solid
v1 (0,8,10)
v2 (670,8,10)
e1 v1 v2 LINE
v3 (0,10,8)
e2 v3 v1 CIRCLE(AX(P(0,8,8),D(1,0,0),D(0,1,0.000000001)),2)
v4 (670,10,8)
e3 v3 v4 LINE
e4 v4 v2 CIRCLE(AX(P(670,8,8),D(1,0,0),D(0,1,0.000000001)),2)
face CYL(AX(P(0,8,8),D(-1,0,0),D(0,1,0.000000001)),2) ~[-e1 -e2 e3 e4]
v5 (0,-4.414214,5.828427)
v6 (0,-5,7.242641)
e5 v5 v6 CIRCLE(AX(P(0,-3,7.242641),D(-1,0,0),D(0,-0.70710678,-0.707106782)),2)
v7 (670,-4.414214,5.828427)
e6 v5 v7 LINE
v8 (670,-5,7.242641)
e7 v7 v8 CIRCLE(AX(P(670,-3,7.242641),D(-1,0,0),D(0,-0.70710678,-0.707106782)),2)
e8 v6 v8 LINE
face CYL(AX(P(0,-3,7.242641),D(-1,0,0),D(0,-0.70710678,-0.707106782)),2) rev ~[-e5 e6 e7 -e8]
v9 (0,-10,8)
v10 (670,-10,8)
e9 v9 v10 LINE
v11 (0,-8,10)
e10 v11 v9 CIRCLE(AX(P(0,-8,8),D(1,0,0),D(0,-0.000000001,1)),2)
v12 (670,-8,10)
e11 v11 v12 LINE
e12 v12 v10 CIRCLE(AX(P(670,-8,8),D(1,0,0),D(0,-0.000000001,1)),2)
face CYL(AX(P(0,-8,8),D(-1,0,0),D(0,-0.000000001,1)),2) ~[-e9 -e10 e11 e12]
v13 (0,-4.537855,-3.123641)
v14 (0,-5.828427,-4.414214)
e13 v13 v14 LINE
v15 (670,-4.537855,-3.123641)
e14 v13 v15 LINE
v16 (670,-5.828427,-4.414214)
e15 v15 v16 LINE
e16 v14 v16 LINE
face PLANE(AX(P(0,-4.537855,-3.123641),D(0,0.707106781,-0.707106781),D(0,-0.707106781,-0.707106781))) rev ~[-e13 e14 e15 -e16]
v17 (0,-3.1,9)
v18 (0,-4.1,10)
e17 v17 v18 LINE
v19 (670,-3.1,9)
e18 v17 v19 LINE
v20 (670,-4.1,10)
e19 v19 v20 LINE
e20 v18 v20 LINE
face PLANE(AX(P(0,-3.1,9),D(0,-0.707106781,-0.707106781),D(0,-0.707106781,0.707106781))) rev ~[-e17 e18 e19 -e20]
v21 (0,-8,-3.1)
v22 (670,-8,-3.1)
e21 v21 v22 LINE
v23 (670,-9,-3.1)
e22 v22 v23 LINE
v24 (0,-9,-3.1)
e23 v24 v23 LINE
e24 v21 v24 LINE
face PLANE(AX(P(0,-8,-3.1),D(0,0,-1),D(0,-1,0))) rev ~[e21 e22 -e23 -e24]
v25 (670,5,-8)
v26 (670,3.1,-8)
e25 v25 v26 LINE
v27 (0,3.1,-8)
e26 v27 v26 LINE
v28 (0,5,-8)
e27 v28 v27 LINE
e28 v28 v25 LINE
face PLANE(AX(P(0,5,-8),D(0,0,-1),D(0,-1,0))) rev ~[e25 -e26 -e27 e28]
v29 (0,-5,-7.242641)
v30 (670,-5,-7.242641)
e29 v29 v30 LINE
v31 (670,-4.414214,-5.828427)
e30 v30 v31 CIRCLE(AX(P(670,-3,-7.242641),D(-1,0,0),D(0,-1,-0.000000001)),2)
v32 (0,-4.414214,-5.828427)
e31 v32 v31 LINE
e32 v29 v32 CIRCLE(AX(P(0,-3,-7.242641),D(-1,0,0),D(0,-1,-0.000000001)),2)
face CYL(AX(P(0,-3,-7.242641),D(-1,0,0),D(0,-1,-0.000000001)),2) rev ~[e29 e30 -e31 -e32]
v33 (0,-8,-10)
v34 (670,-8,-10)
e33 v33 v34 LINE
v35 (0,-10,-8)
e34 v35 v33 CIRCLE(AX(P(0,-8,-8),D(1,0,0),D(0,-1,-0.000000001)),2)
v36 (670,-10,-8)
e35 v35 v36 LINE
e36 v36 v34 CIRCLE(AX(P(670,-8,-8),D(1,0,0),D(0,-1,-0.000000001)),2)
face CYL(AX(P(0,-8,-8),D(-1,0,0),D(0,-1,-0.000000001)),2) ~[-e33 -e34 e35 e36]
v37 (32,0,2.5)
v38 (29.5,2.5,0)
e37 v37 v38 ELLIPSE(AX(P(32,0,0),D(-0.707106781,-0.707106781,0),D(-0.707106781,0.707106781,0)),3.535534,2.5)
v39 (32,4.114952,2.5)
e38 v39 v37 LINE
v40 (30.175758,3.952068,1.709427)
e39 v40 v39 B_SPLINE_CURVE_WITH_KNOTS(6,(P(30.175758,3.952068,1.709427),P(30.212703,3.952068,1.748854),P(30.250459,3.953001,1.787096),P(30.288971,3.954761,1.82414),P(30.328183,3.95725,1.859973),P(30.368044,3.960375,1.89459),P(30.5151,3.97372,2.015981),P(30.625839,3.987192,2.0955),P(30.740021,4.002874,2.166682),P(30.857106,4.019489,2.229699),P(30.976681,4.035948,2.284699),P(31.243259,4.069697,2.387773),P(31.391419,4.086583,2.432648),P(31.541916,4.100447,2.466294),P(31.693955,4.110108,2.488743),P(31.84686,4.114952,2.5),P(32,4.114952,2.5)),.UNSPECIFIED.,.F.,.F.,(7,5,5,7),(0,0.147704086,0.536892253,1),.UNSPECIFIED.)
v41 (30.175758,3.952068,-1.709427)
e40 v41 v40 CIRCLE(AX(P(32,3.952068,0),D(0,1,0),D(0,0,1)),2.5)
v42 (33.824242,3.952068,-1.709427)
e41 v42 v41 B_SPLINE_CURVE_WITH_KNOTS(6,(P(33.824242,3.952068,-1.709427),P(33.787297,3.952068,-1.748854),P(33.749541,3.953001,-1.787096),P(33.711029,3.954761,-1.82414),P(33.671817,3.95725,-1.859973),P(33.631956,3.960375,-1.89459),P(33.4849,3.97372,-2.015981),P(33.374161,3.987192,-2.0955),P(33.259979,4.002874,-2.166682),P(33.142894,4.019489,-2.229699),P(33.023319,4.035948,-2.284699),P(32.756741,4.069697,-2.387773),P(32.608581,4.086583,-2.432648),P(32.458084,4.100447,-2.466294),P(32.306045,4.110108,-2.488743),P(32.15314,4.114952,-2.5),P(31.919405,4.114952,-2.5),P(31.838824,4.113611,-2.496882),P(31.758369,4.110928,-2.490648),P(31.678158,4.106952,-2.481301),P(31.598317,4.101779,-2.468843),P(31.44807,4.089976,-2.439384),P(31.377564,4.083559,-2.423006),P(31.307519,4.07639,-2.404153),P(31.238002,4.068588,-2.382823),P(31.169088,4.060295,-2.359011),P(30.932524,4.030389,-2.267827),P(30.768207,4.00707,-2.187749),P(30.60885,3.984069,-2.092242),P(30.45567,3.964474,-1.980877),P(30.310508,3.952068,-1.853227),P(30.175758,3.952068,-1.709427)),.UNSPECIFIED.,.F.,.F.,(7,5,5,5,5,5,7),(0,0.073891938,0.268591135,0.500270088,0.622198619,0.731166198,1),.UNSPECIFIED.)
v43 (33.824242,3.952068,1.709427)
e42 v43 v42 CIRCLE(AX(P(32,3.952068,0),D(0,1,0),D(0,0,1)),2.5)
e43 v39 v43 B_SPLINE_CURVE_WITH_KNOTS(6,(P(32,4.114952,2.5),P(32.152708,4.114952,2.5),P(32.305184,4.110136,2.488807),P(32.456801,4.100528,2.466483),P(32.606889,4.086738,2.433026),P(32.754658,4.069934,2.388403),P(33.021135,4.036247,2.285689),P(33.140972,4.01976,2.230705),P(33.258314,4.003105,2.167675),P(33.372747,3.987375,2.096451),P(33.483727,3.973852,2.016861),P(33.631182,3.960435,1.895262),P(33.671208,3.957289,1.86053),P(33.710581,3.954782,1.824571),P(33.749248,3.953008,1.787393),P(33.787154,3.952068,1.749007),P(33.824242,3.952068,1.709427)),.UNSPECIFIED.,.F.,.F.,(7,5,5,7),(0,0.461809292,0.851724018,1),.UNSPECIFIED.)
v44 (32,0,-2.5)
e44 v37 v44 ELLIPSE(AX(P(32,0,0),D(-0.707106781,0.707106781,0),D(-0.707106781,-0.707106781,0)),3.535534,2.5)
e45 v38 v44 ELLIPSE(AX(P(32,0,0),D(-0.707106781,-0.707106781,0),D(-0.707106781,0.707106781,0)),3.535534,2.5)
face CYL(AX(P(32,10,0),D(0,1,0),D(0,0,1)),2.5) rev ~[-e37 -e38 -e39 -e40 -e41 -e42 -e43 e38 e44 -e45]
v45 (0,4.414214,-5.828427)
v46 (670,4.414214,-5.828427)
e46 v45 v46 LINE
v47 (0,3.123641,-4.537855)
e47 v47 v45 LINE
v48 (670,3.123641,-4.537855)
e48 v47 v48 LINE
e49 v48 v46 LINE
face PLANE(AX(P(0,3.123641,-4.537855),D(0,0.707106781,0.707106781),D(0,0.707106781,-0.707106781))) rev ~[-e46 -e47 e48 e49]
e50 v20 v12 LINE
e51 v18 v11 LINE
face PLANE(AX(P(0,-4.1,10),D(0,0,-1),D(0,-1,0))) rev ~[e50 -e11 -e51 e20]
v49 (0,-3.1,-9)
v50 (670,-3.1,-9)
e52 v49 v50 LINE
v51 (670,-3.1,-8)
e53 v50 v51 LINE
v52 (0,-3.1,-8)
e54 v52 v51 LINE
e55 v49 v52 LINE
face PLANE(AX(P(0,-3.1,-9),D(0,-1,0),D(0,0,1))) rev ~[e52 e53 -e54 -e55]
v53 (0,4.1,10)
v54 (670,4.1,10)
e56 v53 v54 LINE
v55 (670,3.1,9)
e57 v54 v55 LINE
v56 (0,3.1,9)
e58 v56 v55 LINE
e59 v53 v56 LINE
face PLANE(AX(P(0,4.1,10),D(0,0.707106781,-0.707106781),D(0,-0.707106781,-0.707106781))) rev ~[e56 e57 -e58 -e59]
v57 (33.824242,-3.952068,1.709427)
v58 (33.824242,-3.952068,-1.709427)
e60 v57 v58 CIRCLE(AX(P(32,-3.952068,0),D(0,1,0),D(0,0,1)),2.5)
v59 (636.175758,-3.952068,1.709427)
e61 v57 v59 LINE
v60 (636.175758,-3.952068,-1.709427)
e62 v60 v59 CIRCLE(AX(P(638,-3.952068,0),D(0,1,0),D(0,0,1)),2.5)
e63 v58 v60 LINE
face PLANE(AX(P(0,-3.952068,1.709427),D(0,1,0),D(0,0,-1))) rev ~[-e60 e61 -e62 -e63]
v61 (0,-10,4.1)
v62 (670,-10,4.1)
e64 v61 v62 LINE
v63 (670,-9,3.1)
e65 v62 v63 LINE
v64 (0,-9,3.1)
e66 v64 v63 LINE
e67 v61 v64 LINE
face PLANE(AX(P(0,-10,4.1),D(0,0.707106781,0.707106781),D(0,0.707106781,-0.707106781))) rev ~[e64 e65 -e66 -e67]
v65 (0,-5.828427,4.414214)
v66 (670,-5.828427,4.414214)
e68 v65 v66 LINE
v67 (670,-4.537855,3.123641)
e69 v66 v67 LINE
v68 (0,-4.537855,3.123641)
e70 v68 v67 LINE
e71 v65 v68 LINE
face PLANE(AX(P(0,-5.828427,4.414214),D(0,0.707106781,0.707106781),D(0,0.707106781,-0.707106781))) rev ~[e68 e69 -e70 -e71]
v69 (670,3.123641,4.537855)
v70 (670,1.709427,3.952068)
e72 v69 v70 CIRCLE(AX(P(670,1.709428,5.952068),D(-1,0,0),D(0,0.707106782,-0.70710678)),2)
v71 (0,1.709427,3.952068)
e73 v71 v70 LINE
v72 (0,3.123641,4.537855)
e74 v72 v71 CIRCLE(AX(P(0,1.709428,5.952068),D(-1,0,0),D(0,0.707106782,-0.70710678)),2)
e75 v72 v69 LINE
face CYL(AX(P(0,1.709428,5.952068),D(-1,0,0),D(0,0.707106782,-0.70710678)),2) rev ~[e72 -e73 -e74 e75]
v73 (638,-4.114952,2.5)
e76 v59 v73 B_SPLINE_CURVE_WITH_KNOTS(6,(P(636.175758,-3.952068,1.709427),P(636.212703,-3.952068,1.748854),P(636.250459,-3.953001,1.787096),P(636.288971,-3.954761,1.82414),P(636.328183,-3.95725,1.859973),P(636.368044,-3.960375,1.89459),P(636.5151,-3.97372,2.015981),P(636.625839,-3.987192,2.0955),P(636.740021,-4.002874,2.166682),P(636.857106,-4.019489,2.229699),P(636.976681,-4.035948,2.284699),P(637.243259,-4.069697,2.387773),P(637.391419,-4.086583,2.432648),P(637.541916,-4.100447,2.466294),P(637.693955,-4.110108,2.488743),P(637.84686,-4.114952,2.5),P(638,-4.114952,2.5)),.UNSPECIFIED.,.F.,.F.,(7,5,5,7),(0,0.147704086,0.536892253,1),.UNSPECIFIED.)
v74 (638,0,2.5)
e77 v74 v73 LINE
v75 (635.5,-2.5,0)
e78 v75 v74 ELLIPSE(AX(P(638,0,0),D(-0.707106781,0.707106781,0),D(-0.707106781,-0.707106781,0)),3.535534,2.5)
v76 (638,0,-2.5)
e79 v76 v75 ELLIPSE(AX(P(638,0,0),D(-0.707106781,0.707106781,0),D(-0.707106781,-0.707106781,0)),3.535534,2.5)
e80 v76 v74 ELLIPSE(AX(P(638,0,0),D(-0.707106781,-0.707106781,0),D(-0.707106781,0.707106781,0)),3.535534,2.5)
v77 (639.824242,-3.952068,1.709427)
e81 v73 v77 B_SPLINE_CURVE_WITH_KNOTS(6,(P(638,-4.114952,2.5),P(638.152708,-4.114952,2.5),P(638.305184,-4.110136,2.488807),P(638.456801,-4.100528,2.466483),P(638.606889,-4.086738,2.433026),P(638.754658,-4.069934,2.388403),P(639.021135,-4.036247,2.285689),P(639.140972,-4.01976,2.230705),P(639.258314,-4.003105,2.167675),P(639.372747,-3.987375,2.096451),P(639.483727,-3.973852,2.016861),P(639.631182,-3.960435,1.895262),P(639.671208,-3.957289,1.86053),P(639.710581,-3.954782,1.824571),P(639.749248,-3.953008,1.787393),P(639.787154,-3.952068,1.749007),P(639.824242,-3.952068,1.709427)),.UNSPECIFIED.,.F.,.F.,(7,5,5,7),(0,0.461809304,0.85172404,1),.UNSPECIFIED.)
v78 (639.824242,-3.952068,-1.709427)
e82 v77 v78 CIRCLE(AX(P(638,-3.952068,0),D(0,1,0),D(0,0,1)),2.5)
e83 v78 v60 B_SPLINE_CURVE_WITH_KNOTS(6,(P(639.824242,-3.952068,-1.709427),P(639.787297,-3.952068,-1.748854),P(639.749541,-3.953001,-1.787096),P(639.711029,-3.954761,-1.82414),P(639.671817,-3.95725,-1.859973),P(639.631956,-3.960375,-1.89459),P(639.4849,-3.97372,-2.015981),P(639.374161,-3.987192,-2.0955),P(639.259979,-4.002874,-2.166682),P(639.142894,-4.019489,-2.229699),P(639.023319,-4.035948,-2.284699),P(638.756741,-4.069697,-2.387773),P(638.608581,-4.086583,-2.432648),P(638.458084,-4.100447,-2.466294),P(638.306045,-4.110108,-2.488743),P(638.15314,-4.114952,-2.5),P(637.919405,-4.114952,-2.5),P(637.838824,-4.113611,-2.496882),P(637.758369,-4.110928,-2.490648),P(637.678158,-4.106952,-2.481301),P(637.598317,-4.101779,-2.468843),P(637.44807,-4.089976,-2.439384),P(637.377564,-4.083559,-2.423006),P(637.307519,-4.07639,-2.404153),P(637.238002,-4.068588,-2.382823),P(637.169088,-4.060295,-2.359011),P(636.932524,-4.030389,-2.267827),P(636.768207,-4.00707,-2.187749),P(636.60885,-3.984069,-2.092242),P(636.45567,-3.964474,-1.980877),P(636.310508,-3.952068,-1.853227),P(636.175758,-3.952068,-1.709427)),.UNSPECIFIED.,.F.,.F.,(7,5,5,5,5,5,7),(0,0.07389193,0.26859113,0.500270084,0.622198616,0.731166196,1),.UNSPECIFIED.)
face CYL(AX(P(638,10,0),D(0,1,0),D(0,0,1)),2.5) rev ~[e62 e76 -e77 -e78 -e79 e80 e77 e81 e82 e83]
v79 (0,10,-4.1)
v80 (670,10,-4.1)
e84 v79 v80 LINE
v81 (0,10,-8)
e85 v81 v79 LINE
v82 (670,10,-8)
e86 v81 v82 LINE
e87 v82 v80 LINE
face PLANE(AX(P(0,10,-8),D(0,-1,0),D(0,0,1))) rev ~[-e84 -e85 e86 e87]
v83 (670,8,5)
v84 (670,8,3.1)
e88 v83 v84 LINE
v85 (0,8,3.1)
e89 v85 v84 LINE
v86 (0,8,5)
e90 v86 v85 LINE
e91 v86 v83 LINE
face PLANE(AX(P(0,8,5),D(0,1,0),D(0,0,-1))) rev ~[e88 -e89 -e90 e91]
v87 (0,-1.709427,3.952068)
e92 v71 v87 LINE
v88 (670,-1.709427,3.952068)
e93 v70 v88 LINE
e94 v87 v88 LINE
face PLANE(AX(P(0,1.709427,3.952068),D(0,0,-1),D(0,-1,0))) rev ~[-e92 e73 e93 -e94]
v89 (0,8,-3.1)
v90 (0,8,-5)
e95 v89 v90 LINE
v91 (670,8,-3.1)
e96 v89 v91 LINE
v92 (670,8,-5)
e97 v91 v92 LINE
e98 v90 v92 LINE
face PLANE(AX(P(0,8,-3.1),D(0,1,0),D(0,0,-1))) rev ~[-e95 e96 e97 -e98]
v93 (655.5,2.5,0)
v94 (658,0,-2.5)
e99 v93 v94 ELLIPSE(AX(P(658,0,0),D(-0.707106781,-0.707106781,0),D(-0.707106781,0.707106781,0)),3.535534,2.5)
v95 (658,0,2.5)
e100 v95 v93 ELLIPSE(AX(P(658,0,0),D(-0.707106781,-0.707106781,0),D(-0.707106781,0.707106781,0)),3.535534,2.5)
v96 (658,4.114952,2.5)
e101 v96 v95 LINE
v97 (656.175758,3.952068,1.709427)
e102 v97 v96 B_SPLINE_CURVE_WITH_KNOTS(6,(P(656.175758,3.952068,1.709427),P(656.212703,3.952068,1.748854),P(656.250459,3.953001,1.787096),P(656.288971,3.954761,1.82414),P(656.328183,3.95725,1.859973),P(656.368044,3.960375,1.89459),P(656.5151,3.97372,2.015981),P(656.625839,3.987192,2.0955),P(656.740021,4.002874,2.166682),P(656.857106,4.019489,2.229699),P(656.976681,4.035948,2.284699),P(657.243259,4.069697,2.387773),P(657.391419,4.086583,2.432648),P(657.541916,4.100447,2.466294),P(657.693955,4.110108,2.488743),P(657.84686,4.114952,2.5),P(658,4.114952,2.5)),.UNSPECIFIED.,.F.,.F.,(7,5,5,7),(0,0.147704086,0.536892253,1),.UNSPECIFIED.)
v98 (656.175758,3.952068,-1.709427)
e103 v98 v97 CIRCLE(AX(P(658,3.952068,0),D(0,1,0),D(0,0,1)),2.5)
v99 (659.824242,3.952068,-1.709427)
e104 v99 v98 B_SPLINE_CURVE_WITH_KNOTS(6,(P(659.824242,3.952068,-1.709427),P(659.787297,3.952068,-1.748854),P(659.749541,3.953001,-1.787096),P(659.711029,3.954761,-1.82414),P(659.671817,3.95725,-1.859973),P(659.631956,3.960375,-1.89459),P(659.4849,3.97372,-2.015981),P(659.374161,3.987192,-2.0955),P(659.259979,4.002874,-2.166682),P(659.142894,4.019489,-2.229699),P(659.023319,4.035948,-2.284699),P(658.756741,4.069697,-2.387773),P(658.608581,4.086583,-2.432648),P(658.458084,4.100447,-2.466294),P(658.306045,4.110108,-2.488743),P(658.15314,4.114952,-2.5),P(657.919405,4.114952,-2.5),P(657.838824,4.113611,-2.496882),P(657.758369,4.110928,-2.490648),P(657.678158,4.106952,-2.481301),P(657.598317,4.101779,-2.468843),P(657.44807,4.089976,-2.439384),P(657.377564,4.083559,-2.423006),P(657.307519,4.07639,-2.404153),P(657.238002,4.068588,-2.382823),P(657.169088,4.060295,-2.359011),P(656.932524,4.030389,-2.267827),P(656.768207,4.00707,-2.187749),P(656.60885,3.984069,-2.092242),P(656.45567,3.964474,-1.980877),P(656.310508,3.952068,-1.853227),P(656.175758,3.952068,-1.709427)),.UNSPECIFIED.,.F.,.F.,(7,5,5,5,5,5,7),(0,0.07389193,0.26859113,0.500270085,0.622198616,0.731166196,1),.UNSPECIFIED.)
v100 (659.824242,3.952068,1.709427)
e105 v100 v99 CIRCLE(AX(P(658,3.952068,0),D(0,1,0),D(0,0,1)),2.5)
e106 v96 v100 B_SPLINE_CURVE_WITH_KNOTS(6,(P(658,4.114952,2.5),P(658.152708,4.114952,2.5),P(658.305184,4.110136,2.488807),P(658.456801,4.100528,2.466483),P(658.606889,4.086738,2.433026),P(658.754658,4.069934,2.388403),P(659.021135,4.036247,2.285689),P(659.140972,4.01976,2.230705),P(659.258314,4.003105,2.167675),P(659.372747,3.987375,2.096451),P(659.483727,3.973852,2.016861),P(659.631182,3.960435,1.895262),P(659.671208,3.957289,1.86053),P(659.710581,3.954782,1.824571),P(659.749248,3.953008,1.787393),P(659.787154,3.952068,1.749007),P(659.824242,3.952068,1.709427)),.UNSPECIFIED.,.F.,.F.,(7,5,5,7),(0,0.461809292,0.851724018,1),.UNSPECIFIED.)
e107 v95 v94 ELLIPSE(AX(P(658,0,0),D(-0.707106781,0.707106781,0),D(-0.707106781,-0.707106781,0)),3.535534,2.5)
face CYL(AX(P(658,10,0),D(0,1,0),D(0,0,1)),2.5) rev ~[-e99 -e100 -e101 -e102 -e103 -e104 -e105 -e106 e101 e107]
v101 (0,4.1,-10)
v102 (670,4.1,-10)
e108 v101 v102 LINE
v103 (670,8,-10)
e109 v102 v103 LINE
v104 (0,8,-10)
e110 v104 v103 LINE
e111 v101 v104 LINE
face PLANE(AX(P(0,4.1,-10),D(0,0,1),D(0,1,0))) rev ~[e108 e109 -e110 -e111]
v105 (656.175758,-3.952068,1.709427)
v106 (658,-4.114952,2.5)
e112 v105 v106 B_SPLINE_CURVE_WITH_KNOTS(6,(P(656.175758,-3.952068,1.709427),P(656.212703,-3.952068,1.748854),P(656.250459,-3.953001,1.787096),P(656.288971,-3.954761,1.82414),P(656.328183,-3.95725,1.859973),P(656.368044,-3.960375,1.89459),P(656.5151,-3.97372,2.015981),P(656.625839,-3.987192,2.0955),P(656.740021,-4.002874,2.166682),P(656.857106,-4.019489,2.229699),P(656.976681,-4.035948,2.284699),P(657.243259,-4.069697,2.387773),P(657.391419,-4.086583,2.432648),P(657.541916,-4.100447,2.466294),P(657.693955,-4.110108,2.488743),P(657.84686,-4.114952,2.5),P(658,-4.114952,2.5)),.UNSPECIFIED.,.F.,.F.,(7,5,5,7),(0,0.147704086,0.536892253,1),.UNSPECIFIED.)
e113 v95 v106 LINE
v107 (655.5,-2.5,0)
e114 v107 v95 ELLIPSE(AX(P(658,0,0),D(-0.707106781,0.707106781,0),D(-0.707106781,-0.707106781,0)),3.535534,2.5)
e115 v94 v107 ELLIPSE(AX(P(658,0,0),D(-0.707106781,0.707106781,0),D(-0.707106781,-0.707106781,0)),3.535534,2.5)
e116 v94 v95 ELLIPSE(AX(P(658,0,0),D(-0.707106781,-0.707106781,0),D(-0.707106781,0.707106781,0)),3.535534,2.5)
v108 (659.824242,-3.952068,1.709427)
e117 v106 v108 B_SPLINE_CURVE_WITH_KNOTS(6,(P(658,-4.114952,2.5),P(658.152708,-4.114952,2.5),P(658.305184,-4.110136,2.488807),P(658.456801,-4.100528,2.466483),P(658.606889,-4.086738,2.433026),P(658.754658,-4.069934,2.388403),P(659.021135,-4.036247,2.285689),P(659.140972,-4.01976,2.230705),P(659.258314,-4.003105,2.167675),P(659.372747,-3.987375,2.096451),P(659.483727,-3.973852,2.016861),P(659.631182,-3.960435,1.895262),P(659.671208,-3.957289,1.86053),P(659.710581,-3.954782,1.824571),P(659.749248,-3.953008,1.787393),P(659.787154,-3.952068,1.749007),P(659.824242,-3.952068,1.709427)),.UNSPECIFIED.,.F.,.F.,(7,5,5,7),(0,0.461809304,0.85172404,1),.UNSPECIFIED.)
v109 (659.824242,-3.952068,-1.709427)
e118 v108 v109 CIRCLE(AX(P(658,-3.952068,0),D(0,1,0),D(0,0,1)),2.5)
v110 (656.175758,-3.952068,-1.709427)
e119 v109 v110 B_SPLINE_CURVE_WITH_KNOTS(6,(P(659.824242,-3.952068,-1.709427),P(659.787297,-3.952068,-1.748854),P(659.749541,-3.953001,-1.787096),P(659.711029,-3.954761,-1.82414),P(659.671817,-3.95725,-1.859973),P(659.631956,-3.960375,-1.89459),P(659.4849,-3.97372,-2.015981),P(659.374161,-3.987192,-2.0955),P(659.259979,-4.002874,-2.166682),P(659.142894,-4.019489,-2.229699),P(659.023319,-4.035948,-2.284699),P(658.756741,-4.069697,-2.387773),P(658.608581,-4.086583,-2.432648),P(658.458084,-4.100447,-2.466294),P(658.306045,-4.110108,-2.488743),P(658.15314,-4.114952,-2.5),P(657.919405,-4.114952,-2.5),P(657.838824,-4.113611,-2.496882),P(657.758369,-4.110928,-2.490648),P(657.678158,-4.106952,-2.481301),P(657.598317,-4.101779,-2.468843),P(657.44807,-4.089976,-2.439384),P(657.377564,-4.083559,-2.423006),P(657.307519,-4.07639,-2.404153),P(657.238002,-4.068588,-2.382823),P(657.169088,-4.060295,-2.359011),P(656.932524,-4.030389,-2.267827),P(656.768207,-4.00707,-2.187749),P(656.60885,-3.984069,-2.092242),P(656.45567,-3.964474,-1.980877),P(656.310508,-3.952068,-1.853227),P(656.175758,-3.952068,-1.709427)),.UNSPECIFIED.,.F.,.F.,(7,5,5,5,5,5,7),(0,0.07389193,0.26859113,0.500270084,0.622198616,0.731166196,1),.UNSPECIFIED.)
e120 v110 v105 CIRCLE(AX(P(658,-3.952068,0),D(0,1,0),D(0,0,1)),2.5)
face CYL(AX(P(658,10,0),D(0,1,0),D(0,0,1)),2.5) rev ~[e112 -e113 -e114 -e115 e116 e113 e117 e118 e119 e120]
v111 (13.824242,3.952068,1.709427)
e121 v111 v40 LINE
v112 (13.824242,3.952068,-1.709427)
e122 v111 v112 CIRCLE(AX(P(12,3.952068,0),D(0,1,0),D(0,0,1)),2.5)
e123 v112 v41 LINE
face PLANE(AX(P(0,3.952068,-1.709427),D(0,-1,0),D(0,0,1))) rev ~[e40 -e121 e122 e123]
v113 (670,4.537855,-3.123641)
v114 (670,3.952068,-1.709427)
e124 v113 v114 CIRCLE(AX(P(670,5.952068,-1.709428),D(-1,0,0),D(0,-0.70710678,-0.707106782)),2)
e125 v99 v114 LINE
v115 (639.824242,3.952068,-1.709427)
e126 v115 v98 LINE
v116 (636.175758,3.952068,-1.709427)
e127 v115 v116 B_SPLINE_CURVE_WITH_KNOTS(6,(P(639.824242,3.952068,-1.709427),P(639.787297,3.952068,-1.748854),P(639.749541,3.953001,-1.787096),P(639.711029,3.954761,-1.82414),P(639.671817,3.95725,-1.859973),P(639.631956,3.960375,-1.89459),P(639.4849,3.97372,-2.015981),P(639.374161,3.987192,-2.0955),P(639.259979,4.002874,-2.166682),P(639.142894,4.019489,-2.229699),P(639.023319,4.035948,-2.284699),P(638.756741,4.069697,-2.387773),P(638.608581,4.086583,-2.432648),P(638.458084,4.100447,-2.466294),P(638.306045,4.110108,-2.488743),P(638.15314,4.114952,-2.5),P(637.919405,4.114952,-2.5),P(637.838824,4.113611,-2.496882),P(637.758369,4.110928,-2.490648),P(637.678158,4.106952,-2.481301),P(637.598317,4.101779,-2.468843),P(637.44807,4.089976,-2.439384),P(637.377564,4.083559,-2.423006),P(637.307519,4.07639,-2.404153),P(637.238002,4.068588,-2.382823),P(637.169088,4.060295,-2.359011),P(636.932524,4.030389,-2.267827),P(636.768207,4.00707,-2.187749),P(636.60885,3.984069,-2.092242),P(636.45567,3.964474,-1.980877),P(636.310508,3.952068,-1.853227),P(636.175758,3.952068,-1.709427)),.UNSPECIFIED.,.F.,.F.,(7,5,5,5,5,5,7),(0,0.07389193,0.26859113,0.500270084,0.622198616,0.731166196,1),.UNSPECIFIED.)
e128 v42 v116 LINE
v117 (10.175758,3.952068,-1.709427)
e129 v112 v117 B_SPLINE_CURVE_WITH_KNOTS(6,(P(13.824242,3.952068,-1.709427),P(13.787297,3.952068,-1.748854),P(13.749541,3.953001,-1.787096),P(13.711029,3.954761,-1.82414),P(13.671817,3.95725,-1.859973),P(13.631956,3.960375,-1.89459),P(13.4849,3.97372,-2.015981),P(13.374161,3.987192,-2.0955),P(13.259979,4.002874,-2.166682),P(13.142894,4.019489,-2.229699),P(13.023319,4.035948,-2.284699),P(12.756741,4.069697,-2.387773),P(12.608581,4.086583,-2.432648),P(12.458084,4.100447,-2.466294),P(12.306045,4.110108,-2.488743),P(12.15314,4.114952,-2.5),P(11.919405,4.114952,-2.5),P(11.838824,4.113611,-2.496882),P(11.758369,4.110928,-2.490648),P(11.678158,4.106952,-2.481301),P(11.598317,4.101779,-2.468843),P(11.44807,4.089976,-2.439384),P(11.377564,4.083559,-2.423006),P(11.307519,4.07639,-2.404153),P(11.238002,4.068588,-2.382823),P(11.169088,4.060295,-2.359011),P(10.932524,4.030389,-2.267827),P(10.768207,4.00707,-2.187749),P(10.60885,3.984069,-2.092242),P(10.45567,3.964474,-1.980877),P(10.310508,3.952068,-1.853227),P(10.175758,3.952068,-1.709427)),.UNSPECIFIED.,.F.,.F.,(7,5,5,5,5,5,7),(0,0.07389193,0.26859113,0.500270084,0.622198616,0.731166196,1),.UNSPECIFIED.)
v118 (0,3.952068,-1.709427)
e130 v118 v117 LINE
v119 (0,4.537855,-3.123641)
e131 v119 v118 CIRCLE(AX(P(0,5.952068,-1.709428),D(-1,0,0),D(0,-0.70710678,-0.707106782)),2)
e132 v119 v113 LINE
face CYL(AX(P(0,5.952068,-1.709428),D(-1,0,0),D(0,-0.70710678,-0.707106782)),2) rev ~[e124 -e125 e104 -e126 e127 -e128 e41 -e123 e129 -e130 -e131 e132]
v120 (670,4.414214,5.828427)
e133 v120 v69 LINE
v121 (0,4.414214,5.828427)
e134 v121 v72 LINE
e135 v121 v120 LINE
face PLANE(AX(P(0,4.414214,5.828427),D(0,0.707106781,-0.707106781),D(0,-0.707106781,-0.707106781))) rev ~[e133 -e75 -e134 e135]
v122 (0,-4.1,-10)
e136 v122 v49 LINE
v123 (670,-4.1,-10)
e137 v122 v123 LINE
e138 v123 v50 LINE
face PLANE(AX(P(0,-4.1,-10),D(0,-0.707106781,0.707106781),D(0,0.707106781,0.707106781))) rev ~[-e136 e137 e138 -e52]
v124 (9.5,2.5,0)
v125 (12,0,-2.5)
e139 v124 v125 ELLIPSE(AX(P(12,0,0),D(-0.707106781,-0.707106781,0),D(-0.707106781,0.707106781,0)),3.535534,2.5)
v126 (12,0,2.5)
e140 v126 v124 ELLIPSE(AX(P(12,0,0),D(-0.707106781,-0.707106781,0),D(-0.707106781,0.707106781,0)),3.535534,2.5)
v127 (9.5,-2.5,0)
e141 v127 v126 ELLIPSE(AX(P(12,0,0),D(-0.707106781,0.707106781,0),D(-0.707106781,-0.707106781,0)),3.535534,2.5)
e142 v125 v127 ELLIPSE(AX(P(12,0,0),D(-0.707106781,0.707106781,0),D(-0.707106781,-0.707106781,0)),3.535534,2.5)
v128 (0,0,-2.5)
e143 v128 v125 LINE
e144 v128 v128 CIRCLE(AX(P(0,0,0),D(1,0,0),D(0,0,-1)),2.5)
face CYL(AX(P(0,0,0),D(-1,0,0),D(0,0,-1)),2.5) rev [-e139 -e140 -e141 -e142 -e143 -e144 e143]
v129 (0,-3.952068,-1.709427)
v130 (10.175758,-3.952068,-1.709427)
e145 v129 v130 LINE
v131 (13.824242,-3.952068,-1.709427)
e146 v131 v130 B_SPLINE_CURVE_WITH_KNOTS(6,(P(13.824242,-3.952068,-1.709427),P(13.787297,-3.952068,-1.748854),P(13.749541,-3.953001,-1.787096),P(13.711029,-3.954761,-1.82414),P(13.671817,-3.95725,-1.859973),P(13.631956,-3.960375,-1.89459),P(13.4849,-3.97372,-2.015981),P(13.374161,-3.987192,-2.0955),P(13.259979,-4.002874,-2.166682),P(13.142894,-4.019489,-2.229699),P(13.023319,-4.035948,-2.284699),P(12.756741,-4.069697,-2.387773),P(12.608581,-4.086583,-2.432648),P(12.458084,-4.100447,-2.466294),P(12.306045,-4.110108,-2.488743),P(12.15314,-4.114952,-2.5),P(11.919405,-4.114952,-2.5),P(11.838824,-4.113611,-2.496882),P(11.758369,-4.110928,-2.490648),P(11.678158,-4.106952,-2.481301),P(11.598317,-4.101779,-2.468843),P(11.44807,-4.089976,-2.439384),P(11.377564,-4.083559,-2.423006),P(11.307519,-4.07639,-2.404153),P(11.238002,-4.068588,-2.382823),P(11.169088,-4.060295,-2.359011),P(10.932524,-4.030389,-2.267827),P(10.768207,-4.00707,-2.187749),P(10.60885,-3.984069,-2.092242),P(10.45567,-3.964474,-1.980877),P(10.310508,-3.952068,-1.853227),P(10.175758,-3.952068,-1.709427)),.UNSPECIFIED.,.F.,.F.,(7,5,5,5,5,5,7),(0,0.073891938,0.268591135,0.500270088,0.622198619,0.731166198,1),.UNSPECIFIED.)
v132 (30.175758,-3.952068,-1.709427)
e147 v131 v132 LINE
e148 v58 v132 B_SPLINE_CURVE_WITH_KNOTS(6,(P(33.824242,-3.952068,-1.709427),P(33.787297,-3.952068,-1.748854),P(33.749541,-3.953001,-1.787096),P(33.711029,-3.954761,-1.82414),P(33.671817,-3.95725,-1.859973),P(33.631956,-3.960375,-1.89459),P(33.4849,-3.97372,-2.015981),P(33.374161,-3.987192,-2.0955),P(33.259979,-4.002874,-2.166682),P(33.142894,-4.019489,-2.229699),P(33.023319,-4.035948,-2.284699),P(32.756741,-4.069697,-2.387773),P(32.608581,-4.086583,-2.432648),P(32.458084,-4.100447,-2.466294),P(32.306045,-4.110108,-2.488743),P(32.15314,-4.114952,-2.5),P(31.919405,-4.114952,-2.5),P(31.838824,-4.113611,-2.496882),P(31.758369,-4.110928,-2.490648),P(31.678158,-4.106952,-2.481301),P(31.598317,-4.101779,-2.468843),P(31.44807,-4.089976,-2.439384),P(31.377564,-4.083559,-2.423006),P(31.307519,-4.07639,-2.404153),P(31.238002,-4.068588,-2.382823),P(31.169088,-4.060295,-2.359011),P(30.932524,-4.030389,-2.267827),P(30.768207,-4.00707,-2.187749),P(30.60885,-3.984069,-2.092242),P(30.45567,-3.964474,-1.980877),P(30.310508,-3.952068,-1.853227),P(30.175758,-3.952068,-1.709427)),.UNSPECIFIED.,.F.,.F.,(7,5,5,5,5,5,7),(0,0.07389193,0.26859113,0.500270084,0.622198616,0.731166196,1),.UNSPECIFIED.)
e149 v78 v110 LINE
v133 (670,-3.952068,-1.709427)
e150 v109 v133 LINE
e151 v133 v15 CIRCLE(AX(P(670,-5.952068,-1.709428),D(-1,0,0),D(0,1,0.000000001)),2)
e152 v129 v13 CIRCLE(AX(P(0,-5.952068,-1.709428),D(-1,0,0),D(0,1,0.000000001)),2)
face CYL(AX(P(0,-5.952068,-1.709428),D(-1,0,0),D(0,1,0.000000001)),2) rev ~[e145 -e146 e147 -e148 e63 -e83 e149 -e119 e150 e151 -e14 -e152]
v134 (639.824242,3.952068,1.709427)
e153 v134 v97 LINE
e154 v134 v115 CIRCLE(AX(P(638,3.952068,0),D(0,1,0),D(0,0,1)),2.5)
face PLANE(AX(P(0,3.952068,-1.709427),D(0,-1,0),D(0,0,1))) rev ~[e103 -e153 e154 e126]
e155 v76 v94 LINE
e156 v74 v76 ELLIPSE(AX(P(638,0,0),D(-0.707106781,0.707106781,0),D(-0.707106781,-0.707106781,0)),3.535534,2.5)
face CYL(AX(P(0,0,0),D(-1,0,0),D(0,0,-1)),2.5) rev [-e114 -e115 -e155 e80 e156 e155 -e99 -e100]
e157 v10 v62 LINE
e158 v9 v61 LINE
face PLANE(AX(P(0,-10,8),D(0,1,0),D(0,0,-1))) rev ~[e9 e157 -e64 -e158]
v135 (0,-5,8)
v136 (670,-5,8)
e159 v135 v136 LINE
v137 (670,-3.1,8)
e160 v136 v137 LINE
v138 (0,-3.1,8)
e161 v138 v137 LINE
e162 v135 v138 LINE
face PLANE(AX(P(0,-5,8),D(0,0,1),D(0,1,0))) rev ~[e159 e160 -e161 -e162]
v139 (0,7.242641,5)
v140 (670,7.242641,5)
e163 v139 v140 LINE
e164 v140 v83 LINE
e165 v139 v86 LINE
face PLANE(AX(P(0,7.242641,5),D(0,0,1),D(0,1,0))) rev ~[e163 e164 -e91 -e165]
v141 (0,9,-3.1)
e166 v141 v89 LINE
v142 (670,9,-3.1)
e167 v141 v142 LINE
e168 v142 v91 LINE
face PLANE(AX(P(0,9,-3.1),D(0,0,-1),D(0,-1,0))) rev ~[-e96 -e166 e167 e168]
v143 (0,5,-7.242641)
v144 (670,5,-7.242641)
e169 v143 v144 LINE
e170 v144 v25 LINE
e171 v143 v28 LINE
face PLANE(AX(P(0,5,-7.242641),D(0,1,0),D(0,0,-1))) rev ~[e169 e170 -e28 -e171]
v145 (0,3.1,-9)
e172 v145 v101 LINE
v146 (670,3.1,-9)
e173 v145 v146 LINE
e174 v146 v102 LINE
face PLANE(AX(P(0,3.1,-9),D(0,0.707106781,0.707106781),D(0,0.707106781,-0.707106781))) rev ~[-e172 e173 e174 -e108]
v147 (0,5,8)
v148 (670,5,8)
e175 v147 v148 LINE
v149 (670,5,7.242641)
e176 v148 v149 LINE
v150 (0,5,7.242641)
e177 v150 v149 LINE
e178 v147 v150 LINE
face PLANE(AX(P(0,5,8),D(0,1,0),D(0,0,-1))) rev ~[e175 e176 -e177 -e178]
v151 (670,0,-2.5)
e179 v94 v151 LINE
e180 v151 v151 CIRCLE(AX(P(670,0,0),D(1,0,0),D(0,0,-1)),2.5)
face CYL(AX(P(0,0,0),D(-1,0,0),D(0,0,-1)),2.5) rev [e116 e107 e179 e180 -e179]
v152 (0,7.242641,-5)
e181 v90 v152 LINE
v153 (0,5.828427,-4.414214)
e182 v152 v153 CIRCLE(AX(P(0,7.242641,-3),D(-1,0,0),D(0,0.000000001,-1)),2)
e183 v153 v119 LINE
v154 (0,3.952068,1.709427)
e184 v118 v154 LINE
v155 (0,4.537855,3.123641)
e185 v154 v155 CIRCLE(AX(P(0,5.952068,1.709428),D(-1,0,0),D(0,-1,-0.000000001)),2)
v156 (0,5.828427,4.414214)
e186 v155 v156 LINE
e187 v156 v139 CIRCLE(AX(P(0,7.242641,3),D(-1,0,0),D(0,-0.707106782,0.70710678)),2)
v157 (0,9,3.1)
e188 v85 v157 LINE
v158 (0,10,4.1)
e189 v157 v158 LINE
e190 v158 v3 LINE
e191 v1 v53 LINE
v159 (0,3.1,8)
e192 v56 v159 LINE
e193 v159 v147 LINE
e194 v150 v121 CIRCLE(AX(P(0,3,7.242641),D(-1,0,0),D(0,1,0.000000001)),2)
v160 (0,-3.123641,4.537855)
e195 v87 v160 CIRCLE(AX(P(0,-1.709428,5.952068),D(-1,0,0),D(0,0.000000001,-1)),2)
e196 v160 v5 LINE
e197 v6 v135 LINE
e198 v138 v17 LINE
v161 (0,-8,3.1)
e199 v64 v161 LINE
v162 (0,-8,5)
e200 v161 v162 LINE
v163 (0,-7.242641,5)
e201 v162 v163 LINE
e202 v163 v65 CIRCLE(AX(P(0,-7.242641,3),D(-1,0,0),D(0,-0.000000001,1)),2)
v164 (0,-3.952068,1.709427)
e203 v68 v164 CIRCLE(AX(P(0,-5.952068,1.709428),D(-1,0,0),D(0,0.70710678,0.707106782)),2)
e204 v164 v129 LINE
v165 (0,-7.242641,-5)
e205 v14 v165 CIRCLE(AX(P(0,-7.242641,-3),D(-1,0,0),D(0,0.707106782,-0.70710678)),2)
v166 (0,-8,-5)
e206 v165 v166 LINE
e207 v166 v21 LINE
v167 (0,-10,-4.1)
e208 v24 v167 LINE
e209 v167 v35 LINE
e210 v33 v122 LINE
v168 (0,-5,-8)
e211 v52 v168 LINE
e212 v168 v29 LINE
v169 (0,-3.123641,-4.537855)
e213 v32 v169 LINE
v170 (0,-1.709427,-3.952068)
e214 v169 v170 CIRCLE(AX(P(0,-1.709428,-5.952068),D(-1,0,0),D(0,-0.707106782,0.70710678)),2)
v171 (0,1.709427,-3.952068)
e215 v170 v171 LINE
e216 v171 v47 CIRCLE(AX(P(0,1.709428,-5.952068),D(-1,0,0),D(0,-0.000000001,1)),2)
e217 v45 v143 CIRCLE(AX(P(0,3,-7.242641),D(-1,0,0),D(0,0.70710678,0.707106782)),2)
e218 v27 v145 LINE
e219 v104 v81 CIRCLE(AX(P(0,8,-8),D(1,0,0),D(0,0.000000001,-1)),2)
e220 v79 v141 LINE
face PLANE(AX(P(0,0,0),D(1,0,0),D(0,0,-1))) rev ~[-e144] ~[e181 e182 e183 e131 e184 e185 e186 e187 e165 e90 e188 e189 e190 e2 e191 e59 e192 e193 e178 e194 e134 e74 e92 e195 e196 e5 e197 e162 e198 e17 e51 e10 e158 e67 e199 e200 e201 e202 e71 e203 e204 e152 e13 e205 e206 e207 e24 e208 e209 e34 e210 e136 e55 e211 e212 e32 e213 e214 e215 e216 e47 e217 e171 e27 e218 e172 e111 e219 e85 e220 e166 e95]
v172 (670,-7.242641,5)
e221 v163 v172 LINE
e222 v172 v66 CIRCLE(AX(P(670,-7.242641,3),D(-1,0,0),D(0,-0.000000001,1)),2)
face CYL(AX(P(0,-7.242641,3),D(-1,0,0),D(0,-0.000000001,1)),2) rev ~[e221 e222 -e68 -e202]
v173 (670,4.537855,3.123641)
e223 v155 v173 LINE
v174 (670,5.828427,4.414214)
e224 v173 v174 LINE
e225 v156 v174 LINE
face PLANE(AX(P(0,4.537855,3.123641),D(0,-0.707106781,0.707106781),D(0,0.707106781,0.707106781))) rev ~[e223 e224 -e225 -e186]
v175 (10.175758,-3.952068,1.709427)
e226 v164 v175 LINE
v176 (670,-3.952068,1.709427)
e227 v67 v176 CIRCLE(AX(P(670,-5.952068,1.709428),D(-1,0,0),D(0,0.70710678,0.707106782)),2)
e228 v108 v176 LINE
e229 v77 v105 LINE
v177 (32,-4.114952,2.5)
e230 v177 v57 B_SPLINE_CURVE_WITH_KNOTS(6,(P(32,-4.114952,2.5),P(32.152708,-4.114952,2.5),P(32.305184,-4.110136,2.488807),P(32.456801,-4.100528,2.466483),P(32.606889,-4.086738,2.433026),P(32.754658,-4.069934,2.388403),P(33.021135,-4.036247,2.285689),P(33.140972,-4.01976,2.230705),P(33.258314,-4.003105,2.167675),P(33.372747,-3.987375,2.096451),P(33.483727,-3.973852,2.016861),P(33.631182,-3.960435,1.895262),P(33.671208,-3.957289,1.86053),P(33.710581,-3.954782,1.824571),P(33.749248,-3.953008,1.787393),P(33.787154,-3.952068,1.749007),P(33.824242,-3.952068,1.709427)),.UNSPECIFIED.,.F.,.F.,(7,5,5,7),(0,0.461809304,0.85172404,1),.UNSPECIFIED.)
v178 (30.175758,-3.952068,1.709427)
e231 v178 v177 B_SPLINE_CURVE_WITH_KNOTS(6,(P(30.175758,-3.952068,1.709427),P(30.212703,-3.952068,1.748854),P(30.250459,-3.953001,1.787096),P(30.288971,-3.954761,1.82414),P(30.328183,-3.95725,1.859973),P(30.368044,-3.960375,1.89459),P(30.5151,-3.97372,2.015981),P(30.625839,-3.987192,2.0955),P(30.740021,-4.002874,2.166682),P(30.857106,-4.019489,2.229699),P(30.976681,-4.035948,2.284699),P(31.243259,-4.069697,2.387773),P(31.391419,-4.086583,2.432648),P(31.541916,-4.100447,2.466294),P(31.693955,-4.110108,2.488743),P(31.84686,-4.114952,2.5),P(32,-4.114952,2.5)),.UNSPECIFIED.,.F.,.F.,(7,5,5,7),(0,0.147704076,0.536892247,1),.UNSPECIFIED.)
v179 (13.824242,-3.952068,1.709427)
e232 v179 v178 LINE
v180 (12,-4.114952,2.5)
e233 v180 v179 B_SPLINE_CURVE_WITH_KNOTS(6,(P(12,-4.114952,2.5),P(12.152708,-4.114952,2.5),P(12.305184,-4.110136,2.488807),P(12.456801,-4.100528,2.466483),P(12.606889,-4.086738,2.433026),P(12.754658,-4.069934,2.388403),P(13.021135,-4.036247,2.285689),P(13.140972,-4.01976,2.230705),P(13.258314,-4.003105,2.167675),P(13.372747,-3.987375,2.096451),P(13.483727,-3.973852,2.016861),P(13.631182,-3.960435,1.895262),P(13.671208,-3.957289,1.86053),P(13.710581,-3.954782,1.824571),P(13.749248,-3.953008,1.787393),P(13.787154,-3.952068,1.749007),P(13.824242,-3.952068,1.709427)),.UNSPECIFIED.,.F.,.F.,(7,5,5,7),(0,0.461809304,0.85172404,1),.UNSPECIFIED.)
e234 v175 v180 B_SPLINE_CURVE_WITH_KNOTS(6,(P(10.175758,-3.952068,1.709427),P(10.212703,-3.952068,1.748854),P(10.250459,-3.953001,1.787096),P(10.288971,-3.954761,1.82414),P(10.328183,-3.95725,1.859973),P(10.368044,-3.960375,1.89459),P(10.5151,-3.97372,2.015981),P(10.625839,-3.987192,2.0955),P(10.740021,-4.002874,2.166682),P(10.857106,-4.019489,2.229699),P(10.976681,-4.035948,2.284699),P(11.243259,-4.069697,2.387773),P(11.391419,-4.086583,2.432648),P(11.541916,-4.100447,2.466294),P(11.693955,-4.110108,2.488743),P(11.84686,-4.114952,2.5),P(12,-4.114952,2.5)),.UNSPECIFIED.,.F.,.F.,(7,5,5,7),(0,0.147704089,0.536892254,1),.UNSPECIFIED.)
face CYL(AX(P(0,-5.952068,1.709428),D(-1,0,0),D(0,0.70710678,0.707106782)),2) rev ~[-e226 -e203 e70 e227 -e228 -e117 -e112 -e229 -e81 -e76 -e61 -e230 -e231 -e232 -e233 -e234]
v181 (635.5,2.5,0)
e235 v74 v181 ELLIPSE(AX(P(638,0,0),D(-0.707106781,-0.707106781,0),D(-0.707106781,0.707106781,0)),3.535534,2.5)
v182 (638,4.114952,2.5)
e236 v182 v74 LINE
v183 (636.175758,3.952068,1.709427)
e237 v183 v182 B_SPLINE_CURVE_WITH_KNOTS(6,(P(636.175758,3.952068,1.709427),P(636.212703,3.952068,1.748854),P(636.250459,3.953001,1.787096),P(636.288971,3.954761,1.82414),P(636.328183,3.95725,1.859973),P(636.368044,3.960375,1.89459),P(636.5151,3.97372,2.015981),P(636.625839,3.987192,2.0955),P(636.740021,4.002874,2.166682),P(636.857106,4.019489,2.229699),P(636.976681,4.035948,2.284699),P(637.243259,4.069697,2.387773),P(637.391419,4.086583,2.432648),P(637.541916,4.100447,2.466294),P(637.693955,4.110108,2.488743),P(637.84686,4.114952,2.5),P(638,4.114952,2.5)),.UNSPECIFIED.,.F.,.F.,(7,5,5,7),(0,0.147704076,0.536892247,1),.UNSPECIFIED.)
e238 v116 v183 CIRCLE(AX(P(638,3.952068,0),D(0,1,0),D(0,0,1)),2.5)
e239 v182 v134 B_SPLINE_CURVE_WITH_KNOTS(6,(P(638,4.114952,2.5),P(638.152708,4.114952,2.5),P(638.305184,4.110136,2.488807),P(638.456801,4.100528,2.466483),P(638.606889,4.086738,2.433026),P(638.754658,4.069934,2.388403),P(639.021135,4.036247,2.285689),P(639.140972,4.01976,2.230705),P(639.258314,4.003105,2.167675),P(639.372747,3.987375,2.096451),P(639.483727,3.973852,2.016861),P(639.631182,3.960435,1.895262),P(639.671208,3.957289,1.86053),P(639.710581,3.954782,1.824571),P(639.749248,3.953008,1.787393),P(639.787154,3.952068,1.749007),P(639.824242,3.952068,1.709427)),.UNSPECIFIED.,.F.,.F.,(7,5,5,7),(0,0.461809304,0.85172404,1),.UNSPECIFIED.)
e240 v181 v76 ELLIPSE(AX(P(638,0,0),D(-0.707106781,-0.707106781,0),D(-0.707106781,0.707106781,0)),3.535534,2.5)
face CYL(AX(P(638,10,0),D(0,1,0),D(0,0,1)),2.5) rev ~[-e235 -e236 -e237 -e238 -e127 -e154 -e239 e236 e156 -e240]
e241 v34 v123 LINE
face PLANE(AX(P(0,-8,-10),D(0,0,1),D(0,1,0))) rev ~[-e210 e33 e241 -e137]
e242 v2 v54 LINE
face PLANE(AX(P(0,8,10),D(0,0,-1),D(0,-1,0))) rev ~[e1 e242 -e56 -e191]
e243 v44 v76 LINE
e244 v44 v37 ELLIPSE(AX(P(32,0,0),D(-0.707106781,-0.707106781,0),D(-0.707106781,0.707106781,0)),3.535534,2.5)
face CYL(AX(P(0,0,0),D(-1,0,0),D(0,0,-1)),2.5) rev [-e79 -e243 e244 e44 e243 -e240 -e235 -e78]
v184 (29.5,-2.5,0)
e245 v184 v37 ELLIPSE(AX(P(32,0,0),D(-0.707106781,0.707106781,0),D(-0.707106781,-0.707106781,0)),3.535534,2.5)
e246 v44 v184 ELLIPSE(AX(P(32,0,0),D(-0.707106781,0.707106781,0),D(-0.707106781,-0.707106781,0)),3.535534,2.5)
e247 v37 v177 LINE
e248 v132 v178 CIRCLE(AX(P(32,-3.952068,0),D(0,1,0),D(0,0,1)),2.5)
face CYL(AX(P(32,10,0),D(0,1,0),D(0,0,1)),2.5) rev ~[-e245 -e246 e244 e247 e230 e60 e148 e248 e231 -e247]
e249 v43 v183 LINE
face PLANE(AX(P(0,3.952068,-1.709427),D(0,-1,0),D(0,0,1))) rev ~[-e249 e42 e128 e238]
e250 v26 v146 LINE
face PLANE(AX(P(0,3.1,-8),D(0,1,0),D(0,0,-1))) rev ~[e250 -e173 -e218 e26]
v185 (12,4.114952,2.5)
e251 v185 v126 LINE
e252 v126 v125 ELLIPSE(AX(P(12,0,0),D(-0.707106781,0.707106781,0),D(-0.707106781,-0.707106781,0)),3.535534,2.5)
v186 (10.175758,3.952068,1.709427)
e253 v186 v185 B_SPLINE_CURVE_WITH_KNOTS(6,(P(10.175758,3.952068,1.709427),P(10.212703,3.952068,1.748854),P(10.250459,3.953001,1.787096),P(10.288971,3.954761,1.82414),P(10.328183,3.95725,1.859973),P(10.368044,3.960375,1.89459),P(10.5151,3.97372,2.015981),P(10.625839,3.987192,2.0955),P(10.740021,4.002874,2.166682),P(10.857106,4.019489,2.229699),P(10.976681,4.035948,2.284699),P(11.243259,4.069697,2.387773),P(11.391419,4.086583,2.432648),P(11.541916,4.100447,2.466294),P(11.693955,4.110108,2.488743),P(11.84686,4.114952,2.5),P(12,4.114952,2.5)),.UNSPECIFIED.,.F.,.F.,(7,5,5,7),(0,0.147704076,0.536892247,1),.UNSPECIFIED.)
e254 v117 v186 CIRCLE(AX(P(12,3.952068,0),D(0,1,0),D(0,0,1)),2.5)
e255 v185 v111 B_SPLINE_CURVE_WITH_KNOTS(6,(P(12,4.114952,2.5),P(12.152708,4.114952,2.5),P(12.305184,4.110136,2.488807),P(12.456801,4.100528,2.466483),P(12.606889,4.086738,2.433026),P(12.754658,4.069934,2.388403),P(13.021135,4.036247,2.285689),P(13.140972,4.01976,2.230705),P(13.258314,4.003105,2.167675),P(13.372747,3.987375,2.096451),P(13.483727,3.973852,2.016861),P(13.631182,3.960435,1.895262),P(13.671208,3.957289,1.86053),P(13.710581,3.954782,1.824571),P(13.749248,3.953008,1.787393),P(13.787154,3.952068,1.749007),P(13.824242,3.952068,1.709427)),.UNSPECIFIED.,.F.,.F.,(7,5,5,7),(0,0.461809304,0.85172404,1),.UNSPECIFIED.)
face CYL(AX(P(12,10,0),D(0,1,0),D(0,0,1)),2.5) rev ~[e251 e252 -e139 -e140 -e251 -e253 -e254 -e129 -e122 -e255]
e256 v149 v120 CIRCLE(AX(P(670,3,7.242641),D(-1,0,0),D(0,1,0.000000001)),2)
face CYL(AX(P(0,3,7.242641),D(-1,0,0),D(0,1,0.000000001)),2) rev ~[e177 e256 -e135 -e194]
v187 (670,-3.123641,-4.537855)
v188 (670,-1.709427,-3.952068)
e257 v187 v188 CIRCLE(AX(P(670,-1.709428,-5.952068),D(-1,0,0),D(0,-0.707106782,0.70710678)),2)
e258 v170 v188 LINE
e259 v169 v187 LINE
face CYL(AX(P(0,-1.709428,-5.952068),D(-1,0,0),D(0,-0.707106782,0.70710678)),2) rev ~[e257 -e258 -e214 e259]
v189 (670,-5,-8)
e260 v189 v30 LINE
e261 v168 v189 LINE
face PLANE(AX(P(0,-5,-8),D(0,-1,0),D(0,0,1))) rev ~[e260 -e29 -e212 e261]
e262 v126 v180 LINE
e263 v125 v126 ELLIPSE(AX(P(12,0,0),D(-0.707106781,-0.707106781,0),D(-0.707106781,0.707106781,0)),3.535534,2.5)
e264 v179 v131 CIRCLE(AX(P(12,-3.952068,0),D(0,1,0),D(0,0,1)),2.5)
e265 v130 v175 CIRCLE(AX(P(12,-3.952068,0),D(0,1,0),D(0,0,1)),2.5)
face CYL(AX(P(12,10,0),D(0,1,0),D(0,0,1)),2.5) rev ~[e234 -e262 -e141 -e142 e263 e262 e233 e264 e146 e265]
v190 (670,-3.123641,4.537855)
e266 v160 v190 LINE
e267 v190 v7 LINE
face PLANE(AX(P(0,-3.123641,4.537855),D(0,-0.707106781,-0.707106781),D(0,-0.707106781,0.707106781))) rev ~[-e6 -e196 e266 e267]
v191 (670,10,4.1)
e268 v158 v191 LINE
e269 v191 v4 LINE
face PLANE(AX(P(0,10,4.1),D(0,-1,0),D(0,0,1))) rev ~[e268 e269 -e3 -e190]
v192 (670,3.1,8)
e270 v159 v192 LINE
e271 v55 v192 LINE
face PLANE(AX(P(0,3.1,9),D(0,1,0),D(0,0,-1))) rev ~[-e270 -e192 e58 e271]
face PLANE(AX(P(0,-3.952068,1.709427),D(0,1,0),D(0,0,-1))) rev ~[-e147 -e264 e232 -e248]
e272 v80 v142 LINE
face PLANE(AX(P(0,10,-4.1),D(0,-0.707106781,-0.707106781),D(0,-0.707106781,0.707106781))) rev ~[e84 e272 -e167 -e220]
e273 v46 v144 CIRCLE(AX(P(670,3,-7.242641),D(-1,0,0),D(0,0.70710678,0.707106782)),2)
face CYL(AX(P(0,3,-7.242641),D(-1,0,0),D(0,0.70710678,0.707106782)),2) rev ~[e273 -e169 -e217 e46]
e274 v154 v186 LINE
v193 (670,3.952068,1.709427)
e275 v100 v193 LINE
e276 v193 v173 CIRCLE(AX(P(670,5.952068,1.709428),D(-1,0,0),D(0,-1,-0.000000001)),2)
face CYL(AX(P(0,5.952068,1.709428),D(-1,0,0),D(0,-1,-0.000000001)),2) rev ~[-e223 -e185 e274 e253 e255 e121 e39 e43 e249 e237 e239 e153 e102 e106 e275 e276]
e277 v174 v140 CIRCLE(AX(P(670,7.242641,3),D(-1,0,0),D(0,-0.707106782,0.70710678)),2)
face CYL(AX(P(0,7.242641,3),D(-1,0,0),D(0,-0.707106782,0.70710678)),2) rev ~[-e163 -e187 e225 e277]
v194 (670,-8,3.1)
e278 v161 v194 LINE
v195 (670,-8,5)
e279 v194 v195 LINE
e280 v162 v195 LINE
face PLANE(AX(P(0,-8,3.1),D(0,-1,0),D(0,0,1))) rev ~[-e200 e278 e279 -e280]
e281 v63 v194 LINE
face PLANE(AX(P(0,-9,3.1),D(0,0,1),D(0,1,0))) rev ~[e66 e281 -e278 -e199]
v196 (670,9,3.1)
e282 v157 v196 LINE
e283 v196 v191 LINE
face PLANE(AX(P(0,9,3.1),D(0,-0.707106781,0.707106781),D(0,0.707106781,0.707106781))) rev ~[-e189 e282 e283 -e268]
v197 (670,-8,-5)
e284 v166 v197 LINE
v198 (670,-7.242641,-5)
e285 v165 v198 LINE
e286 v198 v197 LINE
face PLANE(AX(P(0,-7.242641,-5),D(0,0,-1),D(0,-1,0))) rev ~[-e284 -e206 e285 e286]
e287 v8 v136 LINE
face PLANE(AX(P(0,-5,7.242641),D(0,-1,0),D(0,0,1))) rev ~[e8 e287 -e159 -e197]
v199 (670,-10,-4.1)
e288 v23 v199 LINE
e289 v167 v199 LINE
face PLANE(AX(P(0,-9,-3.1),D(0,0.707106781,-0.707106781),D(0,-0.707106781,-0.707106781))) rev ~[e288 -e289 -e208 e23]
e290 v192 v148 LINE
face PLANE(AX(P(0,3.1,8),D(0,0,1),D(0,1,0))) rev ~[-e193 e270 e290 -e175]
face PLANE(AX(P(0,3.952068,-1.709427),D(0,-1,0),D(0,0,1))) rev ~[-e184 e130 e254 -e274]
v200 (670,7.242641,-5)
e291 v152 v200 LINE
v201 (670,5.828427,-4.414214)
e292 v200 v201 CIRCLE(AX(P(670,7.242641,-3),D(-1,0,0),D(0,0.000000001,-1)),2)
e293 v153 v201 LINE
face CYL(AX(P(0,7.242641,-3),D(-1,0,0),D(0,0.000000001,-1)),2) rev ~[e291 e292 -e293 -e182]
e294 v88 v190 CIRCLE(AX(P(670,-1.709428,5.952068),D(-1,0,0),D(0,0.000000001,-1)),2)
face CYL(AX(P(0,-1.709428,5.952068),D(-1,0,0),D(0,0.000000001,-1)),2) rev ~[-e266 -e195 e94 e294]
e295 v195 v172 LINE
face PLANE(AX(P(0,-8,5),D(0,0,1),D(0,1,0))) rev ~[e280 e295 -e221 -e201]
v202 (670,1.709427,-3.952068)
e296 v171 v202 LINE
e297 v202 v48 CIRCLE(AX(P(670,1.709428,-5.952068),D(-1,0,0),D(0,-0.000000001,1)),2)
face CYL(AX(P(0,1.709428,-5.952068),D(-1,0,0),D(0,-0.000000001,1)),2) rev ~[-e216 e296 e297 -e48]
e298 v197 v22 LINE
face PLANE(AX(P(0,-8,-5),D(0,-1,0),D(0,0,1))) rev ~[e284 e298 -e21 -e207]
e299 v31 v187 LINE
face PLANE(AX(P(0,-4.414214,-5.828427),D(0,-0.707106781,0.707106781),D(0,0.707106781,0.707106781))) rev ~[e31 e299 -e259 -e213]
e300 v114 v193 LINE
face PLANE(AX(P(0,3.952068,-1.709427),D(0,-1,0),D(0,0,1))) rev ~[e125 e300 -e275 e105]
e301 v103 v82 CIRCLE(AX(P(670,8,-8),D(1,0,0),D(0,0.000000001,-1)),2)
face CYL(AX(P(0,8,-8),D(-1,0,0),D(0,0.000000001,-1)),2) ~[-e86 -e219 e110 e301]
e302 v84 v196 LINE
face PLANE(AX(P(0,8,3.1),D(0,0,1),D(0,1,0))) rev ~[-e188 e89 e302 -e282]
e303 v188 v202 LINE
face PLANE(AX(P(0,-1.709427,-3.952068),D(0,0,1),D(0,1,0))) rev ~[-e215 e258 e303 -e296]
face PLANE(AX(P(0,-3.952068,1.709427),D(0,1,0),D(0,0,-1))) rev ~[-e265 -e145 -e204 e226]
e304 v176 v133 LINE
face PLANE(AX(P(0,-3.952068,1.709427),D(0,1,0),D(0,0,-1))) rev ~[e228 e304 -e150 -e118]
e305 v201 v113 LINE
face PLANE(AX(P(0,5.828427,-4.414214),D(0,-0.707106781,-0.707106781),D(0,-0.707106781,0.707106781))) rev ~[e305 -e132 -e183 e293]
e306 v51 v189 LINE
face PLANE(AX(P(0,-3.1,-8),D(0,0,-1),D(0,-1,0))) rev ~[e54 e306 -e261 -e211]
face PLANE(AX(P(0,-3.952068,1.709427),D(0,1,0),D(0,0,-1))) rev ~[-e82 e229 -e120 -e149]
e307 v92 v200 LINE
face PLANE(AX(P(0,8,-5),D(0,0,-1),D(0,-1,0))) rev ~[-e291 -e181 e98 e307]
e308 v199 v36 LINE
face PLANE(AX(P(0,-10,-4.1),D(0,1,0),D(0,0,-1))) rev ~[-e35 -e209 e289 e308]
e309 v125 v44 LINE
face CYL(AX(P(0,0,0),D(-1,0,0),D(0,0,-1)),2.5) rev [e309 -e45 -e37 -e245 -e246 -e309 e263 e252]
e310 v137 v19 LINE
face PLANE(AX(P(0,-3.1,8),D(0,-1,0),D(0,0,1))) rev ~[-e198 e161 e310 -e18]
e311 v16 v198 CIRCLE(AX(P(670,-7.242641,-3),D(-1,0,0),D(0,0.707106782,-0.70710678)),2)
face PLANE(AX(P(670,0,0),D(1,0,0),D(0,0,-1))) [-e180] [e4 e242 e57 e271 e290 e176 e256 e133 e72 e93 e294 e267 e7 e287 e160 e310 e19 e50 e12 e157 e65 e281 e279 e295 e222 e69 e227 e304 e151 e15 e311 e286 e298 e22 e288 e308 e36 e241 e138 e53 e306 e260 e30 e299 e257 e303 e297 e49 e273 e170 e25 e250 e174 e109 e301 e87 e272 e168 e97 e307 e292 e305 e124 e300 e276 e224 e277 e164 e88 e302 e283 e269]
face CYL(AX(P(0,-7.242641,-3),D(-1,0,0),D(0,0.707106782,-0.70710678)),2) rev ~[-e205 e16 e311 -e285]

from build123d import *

# Parameters (mm, degrees)
SKETCH1_R           = 2.5
BOSS_EXTRUDE1_DEPTH = 670
SKETCH2_R           = 2.5
CUT_EXTRUDE1_DEPTH  = 671.373030484


with BuildPart() as part:
    # Sketch1 → Boss-Extrude1 (new body)
    with BuildSketch(Plane(origin=(0, 0, 0), x_dir=(0, 0, -1), z_dir=(1, 0, 0))):
        with BuildLine():
            Line((-4.1, 10), (-8, 10))
            ThreePointArc((-8, 10), (-9.414213562, 9.414213562), (-10, 8))
            Line((-10, 8), (-10, 4.1))
            Line((-10, 4.1), (-9, 3.1))
            Line((-9, 3.1), (-8, 3.1))
            Line((-8, 3.1), (-8, 5))
            Line((-8, 5), (-7.242640687, 5))
            ThreePointArc((-7.242640687, 5), (-6.477273822, 4.847759065), (-5.828427125, 4.414213562))
            Line((-5.828427125, 4.414213562), (-4.537854624, 3.123641061))
            ThreePointArc((-4.537854624, 3.123641061), (-4.104309121, 2.474794364), (-3.952068186, 1.709427499))
            Line((-3.952068186, 1.709427499), (-3.952068186, -1.709427499))
            ThreePointArc((-3.952068186, -1.709427499), (-4.104309121, -2.474794364), (-4.537854624, -3.123641061))
            Line((-4.537854624, -3.123641061), (-5.828427125, -4.414213562))
            ThreePointArc((-5.828427125, -4.414213562), (-6.477273822, -4.847759065), (-7.242640687, -5))
            Line((-7.242640687, -5), (-8, -5))
            Line((-8, -5), (-8, -3.1))
            Line((-8, -3.1), (-9, -3.1))
            Line((-9, -3.1), (-10, -4.1))
            Line((-10, -4.1), (-10, -8))
            ThreePointArc((-10, -8), (-9.414213562, -9.414213562), (-8, -10))
            Line((-8, -10), (-4.1, -10))
            Line((-4.1, -10), (-3.1, -9))
            Line((-3.1, -9), (-3.1, -8))
            Line((-3.1, -8), (-5, -8))
            Line((-5, -8), (-5, -7.242640687))
            ThreePointArc((-5, -7.242640687), (-4.847759065, -6.477273822), (-4.414213562, -5.828427125))
            Line((-4.414213562, -5.828427125), (-3.123641061, -4.537854624))
            ThreePointArc((-3.123641061, -4.537854624), (-2.474794364, -4.104309121), (-1.709427499, -3.952068186))
            Line((-1.709427499, -3.952068186), (1.709427499, -3.952068186))
            ThreePointArc((1.709427499, -3.952068186), (2.474794364, -4.104309121), (3.123641061, -4.537854624))
            Line((3.123641061, -4.537854624), (4.414213562, -5.828427125))
            ThreePointArc((4.414213562, -5.828427125), (4.847759065, -6.477273822), (5, -7.242640687))
            Line((5, -7.242640687), (5, -8))
            Line((5, -8), (3.1, -8))
            Line((3.1, -8), (3.1, -9))
            Line((3.1, -9), (4.1, -10))
            Line((4.1, -10), (8, -10))
            ThreePointArc((8, -10), (9.414213562, -9.414213562), (10, -8))
            Line((10, -8), (10, -4.1))
            Line((10, -4.1), (9, -3.1))
            Line((9, -3.1), (8, -3.1))
            Line((8, -3.1), (8, -5))
            Line((8, -5), (7.242640687, -5))
            ThreePointArc((7.242640687, -5), (6.477273822, -4.847759065), (5.828427125, -4.414213562))
            Line((5.828427125, -4.414213562), (4.537854624, -3.123641061))
            ThreePointArc((4.537854624, -3.123641061), (4.104309121, -2.474794364), (3.952068186, -1.709427499))
            Line((3.952068186, -1.709427499), (3.952068186, 1.709427499))
            ThreePointArc((3.952068186, 1.709427499), (4.104309121, 2.474794364), (4.537854624, 3.123641061))
            Line((4.537854624, 3.123641061), (5.828427125, 4.414213562))
            ThreePointArc((5.828427125, 4.414213562), (6.477273822, 4.847759065), (7.242640687, 5))
            Line((7.242640687, 5), (8, 5))
            Line((8, 5), (8, 3.1))
            Line((8, 3.1), (9, 3.1))
            Line((9, 3.1), (10, 4.1))
            Line((10, 4.1), (10, 8))
            ThreePointArc((10, 8), (9.414213562, 9.414213562), (8, 10))
            Line((8, 10), (4.1, 10))
            Line((4.1, 10), (3.1, 9))
            Line((3.1, 9), (3.1, 8))
            Line((3.1, 8), (5, 8))
            Line((5, 8), (5, 7.242640687))
            ThreePointArc((5, 7.242640687), (4.847759065, 6.477273822), (4.414213562, 5.828427125))
            Line((4.414213562, 5.828427125), (3.123641061, 4.537854624))
            ThreePointArc((3.123641061, 4.537854624), (2.474794364, 4.104309121), (1.709427499, 3.952068186))
            Line((1.709427499, 3.952068186), (-1.709427499, 3.952068186))
            ThreePointArc((-1.709427499, 3.952068186), (-2.474794364, 4.104309121), (-3.123641061, 4.537854624))
            Line((-3.123641061, 4.537854624), (-4.414213562, 5.828427125))
            ThreePointArc((-4.414213562, 5.828427125), (-4.847759065, 6.477273822), (-5, 7.242640687))
            Line((-5, 7.242640687), (-5, 8))
            Line((-5, 8), (-3.1, 8))
            Line((-3.1, 8), (-3.1, 9))
            Line((-3.1, 9), (-4.1, 10))
        make_face()
        Circle(SKETCH1_R, mode=Mode.SUBTRACT)
    extrude(amount=BOSS_EXTRUDE1_DEPTH)

    # Sketch2 → Cut-Extrude1 (cut, through all)
    with BuildSketch(Plane(origin=(0, 10, 0), x_dir=(1, 0, 0), z_dir=(0, 1, 0))):
        with Locations(Location((658, 0, 0), (0, 0, 270))):
            Circle(SKETCH2_R)
        with Locations(Location((638, 0, 0), (0, 0, 270))):
            Circle(SKETCH2_R)
        with Locations(Location((32, 0, 0), (0, 0, 270))):
            Circle(SKETCH2_R)
        with Locations(Location((12, 0, 0), (0, 0, 270))):
            Circle(SKETCH2_R)
    extrude(amount=-CUT_EXTRUDE1_DEPTH, mode=Mode.SUBTRACT)


solid = part.part
